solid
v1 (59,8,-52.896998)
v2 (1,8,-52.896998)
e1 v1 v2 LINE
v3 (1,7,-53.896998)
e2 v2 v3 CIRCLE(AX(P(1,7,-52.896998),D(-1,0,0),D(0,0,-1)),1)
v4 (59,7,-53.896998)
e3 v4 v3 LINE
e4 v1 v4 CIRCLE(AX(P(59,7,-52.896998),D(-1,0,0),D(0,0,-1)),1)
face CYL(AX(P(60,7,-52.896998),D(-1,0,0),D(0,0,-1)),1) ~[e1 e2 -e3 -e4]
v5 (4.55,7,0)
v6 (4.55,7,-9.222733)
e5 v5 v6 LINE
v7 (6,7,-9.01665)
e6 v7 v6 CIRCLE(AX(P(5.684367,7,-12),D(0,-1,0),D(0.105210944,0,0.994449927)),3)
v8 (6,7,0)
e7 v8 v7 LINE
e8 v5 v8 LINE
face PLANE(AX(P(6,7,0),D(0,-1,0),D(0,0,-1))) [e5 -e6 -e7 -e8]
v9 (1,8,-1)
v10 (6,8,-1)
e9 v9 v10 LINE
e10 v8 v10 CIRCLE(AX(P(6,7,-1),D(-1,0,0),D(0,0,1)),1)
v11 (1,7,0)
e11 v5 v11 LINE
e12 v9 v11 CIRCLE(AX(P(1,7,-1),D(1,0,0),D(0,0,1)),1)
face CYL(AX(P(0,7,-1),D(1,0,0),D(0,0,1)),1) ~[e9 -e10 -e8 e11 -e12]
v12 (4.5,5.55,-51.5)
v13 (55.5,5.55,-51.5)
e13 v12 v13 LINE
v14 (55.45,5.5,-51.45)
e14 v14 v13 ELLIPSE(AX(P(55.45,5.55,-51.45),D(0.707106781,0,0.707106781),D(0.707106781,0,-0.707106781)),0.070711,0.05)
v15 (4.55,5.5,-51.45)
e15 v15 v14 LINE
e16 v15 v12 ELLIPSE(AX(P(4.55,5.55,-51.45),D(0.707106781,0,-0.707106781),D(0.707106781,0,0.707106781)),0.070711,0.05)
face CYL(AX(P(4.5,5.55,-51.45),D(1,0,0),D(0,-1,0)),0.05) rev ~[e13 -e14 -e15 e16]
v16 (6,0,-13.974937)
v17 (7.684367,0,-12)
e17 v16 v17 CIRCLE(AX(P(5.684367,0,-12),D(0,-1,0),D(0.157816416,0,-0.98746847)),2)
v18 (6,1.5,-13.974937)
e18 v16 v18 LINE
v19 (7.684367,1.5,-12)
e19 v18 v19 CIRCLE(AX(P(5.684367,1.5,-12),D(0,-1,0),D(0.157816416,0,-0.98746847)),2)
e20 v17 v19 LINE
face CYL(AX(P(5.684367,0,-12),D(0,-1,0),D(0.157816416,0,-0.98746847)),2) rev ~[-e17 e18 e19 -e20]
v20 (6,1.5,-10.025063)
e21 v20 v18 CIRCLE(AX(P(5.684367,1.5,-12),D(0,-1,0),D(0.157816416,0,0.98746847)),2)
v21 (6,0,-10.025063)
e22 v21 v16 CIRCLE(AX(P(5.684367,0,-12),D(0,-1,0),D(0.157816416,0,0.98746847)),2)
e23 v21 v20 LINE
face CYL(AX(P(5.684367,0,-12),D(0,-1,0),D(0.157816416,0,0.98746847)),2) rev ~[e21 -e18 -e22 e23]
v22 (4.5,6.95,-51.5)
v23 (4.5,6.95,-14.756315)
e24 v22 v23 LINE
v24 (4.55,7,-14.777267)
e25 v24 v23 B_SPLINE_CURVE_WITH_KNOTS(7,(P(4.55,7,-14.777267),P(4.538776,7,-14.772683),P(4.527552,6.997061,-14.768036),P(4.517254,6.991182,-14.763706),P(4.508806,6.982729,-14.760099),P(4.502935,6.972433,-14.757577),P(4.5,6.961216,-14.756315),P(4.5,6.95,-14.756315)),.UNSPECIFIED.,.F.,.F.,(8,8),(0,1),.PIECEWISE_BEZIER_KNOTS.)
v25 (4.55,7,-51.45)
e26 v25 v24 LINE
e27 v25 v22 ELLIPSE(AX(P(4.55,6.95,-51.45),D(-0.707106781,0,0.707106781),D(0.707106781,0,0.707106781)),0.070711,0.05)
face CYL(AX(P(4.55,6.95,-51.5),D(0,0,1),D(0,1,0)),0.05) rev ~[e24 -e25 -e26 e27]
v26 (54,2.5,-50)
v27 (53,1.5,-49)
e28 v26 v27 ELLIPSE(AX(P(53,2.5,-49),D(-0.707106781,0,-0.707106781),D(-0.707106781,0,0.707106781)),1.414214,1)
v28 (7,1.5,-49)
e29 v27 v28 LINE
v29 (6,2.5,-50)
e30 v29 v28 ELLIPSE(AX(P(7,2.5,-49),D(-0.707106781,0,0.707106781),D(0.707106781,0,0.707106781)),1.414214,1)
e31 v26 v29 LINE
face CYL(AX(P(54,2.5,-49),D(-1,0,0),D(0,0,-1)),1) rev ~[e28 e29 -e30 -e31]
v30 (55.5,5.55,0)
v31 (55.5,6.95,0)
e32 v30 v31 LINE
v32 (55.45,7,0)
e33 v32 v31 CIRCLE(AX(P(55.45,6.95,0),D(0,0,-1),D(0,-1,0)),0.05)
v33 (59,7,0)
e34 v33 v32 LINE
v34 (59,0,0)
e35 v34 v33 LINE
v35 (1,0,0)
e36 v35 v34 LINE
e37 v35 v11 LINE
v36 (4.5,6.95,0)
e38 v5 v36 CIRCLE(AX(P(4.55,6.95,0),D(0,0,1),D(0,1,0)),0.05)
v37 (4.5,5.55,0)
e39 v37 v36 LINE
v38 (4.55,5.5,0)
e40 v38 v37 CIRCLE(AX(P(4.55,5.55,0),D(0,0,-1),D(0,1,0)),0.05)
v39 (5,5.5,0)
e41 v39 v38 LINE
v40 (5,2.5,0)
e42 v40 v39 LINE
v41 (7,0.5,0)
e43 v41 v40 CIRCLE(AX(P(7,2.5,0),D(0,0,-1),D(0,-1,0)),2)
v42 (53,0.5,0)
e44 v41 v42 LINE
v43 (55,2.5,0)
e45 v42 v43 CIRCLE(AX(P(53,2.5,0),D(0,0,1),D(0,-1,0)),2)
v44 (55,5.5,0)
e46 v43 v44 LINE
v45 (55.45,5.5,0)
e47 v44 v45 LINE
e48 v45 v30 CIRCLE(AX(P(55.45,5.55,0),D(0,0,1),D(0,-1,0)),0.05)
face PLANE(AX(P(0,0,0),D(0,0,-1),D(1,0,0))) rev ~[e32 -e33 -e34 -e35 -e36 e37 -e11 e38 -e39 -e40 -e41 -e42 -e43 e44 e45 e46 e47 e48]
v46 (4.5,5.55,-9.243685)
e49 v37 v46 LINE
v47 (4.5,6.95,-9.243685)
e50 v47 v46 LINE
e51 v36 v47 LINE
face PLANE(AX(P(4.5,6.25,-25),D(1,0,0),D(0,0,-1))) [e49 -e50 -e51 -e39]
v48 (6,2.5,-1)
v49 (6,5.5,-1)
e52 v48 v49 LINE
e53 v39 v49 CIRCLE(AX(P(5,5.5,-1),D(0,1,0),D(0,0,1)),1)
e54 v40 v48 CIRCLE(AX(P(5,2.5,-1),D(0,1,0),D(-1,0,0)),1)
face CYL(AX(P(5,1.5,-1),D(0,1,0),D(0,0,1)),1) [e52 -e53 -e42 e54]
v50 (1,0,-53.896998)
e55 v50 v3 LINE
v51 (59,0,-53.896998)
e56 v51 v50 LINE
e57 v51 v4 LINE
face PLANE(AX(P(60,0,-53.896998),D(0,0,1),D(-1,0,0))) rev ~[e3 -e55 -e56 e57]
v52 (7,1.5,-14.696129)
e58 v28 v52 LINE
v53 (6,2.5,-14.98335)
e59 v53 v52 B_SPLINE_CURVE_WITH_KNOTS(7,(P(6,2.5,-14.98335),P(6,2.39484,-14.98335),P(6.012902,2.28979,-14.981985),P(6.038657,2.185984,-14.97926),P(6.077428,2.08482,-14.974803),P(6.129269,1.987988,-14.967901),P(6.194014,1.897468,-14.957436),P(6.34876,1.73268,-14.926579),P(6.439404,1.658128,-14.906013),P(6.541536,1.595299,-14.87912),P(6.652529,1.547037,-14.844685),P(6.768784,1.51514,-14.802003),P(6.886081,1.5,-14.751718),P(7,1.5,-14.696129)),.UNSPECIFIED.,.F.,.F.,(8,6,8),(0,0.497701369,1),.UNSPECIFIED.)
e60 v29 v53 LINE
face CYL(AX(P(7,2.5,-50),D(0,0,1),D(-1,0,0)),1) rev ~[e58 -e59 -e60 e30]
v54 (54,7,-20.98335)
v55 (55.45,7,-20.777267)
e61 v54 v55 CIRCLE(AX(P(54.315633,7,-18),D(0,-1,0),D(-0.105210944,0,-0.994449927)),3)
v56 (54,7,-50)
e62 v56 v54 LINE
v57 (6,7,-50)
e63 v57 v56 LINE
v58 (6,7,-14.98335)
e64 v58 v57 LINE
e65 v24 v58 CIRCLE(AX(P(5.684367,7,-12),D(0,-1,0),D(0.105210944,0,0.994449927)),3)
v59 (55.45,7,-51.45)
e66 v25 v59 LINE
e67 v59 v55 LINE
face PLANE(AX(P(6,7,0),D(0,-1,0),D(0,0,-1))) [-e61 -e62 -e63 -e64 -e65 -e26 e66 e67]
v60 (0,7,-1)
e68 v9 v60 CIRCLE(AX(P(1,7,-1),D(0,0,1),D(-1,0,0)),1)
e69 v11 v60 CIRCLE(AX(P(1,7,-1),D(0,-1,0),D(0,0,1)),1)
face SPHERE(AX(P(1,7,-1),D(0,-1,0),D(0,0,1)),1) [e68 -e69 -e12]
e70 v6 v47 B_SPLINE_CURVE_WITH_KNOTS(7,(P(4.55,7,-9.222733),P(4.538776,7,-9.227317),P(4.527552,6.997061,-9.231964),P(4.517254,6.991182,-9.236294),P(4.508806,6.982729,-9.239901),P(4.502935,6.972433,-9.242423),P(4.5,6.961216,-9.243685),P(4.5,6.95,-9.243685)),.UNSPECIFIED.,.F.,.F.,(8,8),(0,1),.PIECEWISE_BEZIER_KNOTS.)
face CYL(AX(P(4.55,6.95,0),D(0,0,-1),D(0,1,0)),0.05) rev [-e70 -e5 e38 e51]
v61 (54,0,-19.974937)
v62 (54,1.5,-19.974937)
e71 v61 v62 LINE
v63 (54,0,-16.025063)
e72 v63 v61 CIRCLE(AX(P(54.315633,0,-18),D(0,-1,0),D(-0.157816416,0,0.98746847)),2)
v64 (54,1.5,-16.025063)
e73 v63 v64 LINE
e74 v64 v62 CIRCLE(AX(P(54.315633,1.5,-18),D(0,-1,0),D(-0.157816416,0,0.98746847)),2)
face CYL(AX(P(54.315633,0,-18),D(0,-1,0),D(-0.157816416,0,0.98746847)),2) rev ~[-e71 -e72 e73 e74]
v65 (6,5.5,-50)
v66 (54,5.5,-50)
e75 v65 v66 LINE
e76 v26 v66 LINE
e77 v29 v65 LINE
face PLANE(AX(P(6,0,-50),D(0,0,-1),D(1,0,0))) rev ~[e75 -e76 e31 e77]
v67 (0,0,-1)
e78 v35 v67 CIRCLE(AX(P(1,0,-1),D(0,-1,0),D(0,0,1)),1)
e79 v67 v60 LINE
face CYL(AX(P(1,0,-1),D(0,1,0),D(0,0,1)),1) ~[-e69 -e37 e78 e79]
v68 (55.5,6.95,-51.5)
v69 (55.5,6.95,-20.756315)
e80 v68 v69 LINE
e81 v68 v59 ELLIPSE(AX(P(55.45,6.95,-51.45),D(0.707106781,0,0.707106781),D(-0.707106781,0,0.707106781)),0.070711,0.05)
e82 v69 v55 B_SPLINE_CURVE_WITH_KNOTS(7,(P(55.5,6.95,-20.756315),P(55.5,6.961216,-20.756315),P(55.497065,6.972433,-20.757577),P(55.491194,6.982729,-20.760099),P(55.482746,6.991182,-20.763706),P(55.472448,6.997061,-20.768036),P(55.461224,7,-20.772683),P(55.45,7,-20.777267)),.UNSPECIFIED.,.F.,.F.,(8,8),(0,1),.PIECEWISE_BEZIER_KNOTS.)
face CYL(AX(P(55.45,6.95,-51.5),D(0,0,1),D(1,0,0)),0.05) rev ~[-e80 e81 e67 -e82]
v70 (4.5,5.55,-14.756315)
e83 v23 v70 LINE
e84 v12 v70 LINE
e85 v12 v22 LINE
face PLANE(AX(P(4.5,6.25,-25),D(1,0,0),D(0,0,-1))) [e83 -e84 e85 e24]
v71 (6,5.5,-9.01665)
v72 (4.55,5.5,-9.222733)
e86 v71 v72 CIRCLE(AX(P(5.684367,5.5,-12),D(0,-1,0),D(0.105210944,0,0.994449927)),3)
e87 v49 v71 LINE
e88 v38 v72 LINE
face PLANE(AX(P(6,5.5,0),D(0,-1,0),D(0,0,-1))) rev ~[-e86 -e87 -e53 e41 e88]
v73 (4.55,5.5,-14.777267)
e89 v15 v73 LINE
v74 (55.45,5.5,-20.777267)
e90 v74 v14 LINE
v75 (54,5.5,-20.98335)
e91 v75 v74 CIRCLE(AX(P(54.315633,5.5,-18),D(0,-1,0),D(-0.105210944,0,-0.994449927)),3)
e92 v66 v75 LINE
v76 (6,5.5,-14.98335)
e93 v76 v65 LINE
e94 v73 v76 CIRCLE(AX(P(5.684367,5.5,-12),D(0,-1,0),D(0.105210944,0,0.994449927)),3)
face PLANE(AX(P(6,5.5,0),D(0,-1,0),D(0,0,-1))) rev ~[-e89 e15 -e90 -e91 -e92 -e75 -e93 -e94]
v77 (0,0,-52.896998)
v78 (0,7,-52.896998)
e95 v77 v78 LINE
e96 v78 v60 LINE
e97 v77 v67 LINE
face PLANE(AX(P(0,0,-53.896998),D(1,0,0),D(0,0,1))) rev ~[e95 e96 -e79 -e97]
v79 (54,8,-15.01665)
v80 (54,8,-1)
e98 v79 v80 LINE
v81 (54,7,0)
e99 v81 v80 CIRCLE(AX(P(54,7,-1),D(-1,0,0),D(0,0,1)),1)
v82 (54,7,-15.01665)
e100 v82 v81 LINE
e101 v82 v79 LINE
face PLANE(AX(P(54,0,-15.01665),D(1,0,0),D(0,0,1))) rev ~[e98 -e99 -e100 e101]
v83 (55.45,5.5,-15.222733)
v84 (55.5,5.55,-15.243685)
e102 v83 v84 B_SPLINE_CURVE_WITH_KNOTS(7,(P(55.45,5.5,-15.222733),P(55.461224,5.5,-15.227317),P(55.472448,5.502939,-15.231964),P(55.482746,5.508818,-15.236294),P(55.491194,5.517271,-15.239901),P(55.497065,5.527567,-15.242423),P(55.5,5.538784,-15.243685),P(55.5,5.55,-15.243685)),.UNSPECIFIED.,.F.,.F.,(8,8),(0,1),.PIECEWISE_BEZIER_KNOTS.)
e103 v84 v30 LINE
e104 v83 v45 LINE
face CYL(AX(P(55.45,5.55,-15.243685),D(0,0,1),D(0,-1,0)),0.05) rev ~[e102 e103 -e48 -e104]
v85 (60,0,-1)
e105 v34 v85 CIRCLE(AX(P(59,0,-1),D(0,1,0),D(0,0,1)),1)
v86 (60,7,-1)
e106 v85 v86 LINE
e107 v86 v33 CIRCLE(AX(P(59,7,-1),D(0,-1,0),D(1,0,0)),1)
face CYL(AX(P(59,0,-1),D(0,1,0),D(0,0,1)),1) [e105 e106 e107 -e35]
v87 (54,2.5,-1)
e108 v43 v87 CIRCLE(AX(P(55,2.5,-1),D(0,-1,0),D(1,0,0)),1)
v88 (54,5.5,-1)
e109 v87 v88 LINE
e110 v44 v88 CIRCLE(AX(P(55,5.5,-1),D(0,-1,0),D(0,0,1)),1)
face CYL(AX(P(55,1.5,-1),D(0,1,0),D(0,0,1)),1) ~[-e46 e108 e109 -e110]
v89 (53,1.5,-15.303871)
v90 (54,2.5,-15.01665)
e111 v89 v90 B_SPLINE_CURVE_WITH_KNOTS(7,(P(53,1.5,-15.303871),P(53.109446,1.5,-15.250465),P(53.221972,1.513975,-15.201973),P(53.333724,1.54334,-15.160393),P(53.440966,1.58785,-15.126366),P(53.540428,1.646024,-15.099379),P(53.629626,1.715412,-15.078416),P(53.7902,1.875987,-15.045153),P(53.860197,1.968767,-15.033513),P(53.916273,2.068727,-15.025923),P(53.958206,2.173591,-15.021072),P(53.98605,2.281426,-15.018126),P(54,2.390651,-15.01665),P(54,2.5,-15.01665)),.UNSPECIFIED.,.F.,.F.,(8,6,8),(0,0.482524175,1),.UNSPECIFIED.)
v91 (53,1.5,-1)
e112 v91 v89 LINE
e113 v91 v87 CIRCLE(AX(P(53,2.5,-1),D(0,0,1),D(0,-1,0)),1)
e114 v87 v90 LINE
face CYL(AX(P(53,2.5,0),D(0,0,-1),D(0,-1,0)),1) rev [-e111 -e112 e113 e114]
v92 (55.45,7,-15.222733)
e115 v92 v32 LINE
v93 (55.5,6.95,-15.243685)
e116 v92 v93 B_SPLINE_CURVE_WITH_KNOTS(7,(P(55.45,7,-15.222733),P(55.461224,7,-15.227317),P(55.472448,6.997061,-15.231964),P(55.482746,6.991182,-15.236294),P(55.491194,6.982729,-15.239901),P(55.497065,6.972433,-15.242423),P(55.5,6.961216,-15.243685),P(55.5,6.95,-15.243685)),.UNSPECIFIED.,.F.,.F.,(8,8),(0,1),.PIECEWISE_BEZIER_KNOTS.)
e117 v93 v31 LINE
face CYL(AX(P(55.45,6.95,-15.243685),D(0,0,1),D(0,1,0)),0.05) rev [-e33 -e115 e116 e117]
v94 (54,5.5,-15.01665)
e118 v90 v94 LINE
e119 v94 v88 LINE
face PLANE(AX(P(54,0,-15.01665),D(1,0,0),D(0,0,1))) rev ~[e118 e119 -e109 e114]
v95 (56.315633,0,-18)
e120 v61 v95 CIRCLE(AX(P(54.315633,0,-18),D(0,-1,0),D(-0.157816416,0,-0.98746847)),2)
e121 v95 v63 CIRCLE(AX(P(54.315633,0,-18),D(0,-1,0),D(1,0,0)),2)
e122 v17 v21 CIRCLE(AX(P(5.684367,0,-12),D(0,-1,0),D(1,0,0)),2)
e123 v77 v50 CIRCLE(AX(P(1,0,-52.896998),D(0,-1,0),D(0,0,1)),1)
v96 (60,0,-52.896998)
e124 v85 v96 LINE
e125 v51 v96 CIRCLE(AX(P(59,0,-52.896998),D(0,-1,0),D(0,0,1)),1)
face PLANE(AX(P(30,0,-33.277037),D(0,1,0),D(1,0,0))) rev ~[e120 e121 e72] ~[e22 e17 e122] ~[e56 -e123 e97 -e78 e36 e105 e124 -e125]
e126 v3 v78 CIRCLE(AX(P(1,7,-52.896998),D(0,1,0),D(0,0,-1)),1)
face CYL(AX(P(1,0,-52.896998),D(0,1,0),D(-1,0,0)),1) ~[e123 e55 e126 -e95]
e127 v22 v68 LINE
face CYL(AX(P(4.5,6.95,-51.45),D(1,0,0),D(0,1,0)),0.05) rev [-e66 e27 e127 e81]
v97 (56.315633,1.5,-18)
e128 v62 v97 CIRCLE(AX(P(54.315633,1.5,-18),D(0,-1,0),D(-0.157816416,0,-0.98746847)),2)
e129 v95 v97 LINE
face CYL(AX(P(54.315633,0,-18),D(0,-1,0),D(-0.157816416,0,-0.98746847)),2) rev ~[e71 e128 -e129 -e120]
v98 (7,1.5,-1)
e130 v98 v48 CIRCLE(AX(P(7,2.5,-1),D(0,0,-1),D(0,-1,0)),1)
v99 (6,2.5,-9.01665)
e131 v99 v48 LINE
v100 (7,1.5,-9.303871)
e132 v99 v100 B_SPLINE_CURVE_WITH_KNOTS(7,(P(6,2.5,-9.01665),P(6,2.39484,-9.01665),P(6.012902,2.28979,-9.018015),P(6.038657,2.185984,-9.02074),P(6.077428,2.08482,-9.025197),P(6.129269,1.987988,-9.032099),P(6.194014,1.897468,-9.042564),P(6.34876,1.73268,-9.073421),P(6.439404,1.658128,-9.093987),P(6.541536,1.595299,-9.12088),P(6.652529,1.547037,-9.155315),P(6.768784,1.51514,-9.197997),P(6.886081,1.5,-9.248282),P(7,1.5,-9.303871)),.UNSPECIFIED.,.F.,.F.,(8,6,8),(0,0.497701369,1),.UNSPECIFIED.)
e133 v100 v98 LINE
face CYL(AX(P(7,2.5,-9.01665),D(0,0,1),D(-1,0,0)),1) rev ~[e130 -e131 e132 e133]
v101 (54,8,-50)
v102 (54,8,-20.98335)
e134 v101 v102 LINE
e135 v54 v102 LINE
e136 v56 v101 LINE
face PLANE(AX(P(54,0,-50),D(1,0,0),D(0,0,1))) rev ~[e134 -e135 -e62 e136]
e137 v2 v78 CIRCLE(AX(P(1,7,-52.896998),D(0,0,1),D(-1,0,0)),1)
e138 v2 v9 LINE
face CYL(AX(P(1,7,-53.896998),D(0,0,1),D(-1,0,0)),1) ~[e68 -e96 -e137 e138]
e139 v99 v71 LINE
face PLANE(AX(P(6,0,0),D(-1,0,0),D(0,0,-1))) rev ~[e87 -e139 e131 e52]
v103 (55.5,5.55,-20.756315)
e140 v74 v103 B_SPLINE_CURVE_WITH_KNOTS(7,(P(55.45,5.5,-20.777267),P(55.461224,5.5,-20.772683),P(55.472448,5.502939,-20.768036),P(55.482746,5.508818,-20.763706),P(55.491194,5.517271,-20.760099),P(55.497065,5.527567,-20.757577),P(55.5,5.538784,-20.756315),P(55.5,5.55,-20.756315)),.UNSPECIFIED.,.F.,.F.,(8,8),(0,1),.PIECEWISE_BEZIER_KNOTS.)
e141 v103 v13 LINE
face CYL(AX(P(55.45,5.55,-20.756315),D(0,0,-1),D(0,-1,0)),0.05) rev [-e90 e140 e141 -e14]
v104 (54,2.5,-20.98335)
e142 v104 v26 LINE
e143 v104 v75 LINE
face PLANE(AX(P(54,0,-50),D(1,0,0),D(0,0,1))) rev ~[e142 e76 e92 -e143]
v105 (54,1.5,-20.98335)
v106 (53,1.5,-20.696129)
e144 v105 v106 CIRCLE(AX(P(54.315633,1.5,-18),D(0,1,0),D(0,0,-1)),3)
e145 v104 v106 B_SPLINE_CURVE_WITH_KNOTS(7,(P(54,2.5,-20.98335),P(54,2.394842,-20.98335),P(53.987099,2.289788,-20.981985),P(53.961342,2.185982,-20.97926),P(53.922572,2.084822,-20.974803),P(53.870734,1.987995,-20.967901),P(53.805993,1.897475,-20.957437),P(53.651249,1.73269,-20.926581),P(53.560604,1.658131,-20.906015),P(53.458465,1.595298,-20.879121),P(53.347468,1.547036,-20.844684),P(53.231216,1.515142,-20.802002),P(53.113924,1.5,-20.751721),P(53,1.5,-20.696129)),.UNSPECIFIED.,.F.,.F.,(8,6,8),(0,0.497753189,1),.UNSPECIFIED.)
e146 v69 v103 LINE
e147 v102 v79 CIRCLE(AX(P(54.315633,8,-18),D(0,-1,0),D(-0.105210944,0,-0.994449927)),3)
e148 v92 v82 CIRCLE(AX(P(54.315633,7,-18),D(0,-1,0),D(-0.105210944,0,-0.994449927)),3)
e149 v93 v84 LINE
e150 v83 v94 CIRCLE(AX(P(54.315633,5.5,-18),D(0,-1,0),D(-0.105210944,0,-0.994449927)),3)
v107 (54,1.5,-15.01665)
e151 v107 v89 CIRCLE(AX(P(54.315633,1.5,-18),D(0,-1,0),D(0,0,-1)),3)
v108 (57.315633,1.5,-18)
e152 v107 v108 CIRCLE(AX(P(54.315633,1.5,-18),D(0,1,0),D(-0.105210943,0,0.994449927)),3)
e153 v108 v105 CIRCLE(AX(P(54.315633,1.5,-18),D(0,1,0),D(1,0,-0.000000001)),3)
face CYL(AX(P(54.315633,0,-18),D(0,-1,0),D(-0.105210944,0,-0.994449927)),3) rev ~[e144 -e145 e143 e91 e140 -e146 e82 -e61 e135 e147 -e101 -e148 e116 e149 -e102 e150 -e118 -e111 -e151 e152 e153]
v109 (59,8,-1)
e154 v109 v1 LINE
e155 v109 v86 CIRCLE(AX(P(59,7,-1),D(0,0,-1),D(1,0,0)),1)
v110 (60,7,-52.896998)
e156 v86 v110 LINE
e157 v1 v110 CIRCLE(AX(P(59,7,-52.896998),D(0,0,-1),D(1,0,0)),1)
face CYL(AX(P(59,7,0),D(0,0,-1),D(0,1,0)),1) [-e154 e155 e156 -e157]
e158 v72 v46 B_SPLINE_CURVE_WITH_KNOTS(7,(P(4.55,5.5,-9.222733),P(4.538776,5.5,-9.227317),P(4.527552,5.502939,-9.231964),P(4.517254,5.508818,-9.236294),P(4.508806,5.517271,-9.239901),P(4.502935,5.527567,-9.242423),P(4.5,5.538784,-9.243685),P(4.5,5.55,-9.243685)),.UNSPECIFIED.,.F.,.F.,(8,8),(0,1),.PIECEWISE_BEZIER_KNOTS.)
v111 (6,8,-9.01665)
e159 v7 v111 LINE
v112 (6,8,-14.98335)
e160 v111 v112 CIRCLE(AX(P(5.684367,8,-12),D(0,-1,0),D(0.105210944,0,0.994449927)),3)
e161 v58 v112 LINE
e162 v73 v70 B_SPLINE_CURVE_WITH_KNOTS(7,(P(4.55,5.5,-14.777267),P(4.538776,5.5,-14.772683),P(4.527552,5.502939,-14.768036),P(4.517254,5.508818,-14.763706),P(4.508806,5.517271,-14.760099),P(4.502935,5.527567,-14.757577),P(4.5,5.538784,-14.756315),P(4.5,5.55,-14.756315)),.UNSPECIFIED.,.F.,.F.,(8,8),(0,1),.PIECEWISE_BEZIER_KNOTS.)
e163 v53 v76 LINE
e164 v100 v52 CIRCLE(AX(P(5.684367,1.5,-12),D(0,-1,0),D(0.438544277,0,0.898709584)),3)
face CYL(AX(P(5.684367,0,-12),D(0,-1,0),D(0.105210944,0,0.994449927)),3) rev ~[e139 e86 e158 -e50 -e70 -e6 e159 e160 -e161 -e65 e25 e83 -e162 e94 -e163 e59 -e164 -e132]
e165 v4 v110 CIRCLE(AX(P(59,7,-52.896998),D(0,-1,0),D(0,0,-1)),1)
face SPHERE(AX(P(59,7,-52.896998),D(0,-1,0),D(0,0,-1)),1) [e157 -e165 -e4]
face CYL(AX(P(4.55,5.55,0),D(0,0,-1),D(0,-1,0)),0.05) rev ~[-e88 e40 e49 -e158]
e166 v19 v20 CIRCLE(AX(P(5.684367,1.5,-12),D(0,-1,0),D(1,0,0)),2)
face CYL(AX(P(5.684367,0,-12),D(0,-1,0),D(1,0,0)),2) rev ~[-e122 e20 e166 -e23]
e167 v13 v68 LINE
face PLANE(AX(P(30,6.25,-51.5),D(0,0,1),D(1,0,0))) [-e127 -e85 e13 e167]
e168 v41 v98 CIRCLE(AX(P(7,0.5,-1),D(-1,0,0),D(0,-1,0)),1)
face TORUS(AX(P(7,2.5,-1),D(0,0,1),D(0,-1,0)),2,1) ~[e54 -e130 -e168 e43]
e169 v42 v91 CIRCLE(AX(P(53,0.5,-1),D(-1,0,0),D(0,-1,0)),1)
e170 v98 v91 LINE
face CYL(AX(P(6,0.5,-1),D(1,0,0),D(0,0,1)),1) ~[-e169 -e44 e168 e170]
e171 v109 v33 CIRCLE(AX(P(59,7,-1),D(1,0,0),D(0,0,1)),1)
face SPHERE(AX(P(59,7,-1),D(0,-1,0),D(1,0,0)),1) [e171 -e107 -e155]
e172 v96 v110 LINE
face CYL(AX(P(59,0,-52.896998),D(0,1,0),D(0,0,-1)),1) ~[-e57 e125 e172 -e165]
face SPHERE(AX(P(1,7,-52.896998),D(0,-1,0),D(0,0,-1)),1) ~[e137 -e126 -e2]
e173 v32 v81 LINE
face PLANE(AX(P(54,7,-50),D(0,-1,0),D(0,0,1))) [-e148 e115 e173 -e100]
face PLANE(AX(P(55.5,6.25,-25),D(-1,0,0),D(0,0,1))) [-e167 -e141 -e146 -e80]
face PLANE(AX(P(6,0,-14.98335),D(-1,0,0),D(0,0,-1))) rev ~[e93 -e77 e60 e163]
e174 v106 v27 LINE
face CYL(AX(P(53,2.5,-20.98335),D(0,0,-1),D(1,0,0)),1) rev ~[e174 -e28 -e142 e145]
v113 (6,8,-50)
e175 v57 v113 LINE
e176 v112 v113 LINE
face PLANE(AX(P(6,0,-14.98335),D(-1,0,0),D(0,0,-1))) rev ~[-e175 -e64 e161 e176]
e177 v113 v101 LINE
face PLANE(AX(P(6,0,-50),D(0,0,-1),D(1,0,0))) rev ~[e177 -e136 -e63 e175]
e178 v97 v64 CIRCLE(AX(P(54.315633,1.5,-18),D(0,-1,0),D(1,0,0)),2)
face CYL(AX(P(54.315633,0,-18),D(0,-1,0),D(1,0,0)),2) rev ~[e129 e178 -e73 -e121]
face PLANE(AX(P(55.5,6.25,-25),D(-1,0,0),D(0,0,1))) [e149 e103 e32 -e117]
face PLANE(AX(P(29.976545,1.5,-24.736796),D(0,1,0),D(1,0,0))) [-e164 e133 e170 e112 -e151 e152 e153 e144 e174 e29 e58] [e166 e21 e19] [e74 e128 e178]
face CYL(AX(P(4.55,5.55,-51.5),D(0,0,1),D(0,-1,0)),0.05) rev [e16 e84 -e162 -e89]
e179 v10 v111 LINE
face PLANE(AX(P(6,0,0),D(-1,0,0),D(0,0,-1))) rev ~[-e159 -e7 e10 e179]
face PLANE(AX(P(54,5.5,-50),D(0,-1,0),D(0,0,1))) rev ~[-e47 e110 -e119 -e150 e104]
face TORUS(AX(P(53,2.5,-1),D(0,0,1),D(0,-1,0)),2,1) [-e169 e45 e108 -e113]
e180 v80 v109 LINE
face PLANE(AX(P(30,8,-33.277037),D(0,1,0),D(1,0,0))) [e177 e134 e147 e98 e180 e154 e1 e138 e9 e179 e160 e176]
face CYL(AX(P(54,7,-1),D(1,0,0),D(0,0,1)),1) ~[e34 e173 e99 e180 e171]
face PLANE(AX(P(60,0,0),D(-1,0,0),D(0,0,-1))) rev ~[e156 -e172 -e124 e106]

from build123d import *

# Parameters (mm, degrees)
BOSS_EXTRUDE1_DEPTH = 1.5
BOSS_EXTRUDE4_DEPTH = 8
SKETCH6_W           = 50
SKETCH6_H           = 1.5
CUT_EXTRUDE1_DEPTH  = 1.5
SKETCH10_W          = 50
SKETCH10_H          = 1.5
CUT_EXTRUDE2_DEPTH  = 1.5
SKETCH11_W          = 51
SKETCH11_H          = 1.5
CUT_EXTRUDE3_DEPTH  = 1.5
FILLET1_R           = 1
FILLET2_R           = 0.05


with BuildPart() as part:
    # Sketch2 → Boss-Extrude1 (new body)
    with BuildSketch(Plane(origin=(0, 0, 0), x_dir=(1, 0, 0), z_dir=(0, 1, 0))):
        with BuildLine():
            Line((6, 9.016650219), (6, 0))
            Line((6, 0), (54, 0))
            Line((54, 0), (54, 15.016650219))
            ThreePointArc((54, 15.016650219), (51.315632832, 18), (54, 20.983349781))
            Line((54, 20.983349781), (54, 50))
            Line((54, 50), (6, 50))
            Line((6, 50), (6, 14.983349781))
            ThreePointArc((6, 14.983349781), (7.914490315, 14.00662671), (8.684367168, 12))
            ThreePointArc((8.684367168, 12), (7.914490315, 9.99337329), (6, 9.016650219))
        make_face()
        with BuildLine():
            ThreePointArc((54, 20.983349781), (51.315632832, 18), (54, 15.016650219))
            Line((54, 15.016650219), (54, 16.02506306))
            ThreePointArc((54, 16.02506306), (52.315632832, 18), (54, 19.97493694))
            Line((54, 19.97493694), (54, 20.983349781))
        make_face()
        with BuildLine():
            Line((54, 16.02506306), (54, 15.016650219))
            ThreePointArc((54, 15.016650219), (56.322259541, 15.769876854), (57.315632832, 18))
            ThreePointArc((57.315632832, 18), (56.322259541, 20.230123146), (54, 20.983349781))
            Line((54, 20.983349781), (54, 19.97493694))
            ThreePointArc((54, 19.97493694), (55.61346455, 19.521720353), (56.315632832, 18))
            ThreePointArc((56.315632832, 18), (55.61346455, 16.478279647), (54, 16.02506306))
        make_face()
        with BuildLine():
            ThreePointArc((6, 14.983349781), (2.684367168, 12), (6, 9.016650219))
            Line((6, 9.016650219), (6, 10.02506306))
            ThreePointArc((6, 10.02506306), (3.684367168, 12), (6, 13.97493694))
            Line((6, 13.97493694), (6, 14.983349781))
        make_face()
        with BuildLine():
            Line((6, 10.02506306), (6, 9.016650219))
            ThreePointArc((6, 9.016650219), (7.914490315, 9.99337329), (8.684367168, 12))
            ThreePointArc((8.684367168, 12), (7.914490315, 14.00662671), (6, 14.983349781))
            Line((6, 14.983349781), (6, 13.97493694))
            ThreePointArc((6, 13.97493694), (7.206087521, 13.297831718), (7.684367168, 12))
            ThreePointArc((7.684367168, 12), (7.206087521, 10.702168282), (6, 10.02506306))
        make_face()
    extrude(amount=BOSS_EXTRUDE1_DEPTH)

    # Sketch2<7> → Boss-Extrude4 (add)
    with BuildSketch(Plane(origin=(0, 0, 0), x_dir=(1, 0, 0), z_dir=(0, 1, 0))):
        with BuildLine():
            Line((0, 0), (6, 0))
            Line((6, 0), (6, 9.016650219))
            ThreePointArc((6, 9.016650219), (2.684367168, 12), (6, 14.983349781))
            Line((6, 14.983349781), (6, 50))
            Line((6, 50), (54, 50))
            Line((54, 50), (54, 20.983349781))
            ThreePointArc((54, 20.983349781), (57.315632832, 18), (54, 15.016650219))
            Line((54, 15.016650219), (54, 0))
            Line((54, 0), (60, 0))
            Line((60, 0), (60, 53.896997513))
            Line((60, 53.896997513), (0, 53.896997513))
            Line((0, 53.896997513), (0, 0))
        make_face()
    extrude(amount=BOSS_EXTRUDE4_DEPTH)

    # Sketch6 → Cut-Extrude1 (cut)
    with BuildSketch(Plane(origin=(6, 0, 0), x_dir=(0, 0, -1), z_dir=(1, 0, 0))):
        with Locations((25, 6.25)):
            Rectangle(SKETCH6_W, SKETCH6_H)
    extrude(amount=-CUT_EXTRUDE1_DEPTH, mode=Mode.SUBTRACT)

    # Sketch10 → Cut-Extrude2 (cut)
    with BuildSketch(Plane.ZY.offset(-54)):
        with Locations((-25, 6.25)):
            Rectangle(SKETCH10_W, SKETCH10_H)
    extrude(amount=-CUT_EXTRUDE2_DEPTH, mode=Mode.SUBTRACT)

    # Sketch11 → Cut-Extrude3 (cut)
    with BuildSketch(Plane.XY.offset(-50)):
        with Locations((30, 6.25)):
            Rectangle(SKETCH11_W, SKETCH11_H)
    extrude(amount=-CUT_EXTRUDE3_DEPTH, mode=Mode.SUBTRACT)

    # Fillet1
    fillet1_edges = [part.edges().sort_by_distance(p)[0] for p in [
        (6, 1.5, -4.50832511),
        (6, 1.5, -32.49167489),
        (30, 1.5, -50),
        (54, 1.5, -35.49167489),
        (54, 1.5, -7.50832511),
        (30, 1.5, 0),
        (54, 3.5, 0),
        (6, 3.5, 0),
        (60, 4, -53.896997513),
        (0, 4, -53.896997513),
        (30, 8, -53.896997513),
        (0, 4, 0),
        (60, 4, 0),
        (60, 8, -26.948498756),
        (57, 8, 0),
        (3, 8, 0),
        (0, 8, -26.948498756),
    ]]
    fillet(fillet1_edges, radius=FILLET1_R)

    # Fillet2
    fillet2_edges = [part.edges().sort_by_distance(p)[0] for p in [
        (55.5, 7, -36.128157684),
        (55.5, 5.5, -7.621842316),
        (55.5, 7, -7.621842316),
        (55.5, 5.5, -36.128157684),
        (30, 7, -51.5),
        (30, 5.5, -51.5),
        (4.5, 7, -33.128157684),
        (4.5, 5.5, -4.621842316),
        (4.5, 7, -4.621842316),
        (4.5, 5.5, -33.128157684),
    ]]
    fillet(fillet2_edges, radius=FILLET2_R)


solid = part.part
